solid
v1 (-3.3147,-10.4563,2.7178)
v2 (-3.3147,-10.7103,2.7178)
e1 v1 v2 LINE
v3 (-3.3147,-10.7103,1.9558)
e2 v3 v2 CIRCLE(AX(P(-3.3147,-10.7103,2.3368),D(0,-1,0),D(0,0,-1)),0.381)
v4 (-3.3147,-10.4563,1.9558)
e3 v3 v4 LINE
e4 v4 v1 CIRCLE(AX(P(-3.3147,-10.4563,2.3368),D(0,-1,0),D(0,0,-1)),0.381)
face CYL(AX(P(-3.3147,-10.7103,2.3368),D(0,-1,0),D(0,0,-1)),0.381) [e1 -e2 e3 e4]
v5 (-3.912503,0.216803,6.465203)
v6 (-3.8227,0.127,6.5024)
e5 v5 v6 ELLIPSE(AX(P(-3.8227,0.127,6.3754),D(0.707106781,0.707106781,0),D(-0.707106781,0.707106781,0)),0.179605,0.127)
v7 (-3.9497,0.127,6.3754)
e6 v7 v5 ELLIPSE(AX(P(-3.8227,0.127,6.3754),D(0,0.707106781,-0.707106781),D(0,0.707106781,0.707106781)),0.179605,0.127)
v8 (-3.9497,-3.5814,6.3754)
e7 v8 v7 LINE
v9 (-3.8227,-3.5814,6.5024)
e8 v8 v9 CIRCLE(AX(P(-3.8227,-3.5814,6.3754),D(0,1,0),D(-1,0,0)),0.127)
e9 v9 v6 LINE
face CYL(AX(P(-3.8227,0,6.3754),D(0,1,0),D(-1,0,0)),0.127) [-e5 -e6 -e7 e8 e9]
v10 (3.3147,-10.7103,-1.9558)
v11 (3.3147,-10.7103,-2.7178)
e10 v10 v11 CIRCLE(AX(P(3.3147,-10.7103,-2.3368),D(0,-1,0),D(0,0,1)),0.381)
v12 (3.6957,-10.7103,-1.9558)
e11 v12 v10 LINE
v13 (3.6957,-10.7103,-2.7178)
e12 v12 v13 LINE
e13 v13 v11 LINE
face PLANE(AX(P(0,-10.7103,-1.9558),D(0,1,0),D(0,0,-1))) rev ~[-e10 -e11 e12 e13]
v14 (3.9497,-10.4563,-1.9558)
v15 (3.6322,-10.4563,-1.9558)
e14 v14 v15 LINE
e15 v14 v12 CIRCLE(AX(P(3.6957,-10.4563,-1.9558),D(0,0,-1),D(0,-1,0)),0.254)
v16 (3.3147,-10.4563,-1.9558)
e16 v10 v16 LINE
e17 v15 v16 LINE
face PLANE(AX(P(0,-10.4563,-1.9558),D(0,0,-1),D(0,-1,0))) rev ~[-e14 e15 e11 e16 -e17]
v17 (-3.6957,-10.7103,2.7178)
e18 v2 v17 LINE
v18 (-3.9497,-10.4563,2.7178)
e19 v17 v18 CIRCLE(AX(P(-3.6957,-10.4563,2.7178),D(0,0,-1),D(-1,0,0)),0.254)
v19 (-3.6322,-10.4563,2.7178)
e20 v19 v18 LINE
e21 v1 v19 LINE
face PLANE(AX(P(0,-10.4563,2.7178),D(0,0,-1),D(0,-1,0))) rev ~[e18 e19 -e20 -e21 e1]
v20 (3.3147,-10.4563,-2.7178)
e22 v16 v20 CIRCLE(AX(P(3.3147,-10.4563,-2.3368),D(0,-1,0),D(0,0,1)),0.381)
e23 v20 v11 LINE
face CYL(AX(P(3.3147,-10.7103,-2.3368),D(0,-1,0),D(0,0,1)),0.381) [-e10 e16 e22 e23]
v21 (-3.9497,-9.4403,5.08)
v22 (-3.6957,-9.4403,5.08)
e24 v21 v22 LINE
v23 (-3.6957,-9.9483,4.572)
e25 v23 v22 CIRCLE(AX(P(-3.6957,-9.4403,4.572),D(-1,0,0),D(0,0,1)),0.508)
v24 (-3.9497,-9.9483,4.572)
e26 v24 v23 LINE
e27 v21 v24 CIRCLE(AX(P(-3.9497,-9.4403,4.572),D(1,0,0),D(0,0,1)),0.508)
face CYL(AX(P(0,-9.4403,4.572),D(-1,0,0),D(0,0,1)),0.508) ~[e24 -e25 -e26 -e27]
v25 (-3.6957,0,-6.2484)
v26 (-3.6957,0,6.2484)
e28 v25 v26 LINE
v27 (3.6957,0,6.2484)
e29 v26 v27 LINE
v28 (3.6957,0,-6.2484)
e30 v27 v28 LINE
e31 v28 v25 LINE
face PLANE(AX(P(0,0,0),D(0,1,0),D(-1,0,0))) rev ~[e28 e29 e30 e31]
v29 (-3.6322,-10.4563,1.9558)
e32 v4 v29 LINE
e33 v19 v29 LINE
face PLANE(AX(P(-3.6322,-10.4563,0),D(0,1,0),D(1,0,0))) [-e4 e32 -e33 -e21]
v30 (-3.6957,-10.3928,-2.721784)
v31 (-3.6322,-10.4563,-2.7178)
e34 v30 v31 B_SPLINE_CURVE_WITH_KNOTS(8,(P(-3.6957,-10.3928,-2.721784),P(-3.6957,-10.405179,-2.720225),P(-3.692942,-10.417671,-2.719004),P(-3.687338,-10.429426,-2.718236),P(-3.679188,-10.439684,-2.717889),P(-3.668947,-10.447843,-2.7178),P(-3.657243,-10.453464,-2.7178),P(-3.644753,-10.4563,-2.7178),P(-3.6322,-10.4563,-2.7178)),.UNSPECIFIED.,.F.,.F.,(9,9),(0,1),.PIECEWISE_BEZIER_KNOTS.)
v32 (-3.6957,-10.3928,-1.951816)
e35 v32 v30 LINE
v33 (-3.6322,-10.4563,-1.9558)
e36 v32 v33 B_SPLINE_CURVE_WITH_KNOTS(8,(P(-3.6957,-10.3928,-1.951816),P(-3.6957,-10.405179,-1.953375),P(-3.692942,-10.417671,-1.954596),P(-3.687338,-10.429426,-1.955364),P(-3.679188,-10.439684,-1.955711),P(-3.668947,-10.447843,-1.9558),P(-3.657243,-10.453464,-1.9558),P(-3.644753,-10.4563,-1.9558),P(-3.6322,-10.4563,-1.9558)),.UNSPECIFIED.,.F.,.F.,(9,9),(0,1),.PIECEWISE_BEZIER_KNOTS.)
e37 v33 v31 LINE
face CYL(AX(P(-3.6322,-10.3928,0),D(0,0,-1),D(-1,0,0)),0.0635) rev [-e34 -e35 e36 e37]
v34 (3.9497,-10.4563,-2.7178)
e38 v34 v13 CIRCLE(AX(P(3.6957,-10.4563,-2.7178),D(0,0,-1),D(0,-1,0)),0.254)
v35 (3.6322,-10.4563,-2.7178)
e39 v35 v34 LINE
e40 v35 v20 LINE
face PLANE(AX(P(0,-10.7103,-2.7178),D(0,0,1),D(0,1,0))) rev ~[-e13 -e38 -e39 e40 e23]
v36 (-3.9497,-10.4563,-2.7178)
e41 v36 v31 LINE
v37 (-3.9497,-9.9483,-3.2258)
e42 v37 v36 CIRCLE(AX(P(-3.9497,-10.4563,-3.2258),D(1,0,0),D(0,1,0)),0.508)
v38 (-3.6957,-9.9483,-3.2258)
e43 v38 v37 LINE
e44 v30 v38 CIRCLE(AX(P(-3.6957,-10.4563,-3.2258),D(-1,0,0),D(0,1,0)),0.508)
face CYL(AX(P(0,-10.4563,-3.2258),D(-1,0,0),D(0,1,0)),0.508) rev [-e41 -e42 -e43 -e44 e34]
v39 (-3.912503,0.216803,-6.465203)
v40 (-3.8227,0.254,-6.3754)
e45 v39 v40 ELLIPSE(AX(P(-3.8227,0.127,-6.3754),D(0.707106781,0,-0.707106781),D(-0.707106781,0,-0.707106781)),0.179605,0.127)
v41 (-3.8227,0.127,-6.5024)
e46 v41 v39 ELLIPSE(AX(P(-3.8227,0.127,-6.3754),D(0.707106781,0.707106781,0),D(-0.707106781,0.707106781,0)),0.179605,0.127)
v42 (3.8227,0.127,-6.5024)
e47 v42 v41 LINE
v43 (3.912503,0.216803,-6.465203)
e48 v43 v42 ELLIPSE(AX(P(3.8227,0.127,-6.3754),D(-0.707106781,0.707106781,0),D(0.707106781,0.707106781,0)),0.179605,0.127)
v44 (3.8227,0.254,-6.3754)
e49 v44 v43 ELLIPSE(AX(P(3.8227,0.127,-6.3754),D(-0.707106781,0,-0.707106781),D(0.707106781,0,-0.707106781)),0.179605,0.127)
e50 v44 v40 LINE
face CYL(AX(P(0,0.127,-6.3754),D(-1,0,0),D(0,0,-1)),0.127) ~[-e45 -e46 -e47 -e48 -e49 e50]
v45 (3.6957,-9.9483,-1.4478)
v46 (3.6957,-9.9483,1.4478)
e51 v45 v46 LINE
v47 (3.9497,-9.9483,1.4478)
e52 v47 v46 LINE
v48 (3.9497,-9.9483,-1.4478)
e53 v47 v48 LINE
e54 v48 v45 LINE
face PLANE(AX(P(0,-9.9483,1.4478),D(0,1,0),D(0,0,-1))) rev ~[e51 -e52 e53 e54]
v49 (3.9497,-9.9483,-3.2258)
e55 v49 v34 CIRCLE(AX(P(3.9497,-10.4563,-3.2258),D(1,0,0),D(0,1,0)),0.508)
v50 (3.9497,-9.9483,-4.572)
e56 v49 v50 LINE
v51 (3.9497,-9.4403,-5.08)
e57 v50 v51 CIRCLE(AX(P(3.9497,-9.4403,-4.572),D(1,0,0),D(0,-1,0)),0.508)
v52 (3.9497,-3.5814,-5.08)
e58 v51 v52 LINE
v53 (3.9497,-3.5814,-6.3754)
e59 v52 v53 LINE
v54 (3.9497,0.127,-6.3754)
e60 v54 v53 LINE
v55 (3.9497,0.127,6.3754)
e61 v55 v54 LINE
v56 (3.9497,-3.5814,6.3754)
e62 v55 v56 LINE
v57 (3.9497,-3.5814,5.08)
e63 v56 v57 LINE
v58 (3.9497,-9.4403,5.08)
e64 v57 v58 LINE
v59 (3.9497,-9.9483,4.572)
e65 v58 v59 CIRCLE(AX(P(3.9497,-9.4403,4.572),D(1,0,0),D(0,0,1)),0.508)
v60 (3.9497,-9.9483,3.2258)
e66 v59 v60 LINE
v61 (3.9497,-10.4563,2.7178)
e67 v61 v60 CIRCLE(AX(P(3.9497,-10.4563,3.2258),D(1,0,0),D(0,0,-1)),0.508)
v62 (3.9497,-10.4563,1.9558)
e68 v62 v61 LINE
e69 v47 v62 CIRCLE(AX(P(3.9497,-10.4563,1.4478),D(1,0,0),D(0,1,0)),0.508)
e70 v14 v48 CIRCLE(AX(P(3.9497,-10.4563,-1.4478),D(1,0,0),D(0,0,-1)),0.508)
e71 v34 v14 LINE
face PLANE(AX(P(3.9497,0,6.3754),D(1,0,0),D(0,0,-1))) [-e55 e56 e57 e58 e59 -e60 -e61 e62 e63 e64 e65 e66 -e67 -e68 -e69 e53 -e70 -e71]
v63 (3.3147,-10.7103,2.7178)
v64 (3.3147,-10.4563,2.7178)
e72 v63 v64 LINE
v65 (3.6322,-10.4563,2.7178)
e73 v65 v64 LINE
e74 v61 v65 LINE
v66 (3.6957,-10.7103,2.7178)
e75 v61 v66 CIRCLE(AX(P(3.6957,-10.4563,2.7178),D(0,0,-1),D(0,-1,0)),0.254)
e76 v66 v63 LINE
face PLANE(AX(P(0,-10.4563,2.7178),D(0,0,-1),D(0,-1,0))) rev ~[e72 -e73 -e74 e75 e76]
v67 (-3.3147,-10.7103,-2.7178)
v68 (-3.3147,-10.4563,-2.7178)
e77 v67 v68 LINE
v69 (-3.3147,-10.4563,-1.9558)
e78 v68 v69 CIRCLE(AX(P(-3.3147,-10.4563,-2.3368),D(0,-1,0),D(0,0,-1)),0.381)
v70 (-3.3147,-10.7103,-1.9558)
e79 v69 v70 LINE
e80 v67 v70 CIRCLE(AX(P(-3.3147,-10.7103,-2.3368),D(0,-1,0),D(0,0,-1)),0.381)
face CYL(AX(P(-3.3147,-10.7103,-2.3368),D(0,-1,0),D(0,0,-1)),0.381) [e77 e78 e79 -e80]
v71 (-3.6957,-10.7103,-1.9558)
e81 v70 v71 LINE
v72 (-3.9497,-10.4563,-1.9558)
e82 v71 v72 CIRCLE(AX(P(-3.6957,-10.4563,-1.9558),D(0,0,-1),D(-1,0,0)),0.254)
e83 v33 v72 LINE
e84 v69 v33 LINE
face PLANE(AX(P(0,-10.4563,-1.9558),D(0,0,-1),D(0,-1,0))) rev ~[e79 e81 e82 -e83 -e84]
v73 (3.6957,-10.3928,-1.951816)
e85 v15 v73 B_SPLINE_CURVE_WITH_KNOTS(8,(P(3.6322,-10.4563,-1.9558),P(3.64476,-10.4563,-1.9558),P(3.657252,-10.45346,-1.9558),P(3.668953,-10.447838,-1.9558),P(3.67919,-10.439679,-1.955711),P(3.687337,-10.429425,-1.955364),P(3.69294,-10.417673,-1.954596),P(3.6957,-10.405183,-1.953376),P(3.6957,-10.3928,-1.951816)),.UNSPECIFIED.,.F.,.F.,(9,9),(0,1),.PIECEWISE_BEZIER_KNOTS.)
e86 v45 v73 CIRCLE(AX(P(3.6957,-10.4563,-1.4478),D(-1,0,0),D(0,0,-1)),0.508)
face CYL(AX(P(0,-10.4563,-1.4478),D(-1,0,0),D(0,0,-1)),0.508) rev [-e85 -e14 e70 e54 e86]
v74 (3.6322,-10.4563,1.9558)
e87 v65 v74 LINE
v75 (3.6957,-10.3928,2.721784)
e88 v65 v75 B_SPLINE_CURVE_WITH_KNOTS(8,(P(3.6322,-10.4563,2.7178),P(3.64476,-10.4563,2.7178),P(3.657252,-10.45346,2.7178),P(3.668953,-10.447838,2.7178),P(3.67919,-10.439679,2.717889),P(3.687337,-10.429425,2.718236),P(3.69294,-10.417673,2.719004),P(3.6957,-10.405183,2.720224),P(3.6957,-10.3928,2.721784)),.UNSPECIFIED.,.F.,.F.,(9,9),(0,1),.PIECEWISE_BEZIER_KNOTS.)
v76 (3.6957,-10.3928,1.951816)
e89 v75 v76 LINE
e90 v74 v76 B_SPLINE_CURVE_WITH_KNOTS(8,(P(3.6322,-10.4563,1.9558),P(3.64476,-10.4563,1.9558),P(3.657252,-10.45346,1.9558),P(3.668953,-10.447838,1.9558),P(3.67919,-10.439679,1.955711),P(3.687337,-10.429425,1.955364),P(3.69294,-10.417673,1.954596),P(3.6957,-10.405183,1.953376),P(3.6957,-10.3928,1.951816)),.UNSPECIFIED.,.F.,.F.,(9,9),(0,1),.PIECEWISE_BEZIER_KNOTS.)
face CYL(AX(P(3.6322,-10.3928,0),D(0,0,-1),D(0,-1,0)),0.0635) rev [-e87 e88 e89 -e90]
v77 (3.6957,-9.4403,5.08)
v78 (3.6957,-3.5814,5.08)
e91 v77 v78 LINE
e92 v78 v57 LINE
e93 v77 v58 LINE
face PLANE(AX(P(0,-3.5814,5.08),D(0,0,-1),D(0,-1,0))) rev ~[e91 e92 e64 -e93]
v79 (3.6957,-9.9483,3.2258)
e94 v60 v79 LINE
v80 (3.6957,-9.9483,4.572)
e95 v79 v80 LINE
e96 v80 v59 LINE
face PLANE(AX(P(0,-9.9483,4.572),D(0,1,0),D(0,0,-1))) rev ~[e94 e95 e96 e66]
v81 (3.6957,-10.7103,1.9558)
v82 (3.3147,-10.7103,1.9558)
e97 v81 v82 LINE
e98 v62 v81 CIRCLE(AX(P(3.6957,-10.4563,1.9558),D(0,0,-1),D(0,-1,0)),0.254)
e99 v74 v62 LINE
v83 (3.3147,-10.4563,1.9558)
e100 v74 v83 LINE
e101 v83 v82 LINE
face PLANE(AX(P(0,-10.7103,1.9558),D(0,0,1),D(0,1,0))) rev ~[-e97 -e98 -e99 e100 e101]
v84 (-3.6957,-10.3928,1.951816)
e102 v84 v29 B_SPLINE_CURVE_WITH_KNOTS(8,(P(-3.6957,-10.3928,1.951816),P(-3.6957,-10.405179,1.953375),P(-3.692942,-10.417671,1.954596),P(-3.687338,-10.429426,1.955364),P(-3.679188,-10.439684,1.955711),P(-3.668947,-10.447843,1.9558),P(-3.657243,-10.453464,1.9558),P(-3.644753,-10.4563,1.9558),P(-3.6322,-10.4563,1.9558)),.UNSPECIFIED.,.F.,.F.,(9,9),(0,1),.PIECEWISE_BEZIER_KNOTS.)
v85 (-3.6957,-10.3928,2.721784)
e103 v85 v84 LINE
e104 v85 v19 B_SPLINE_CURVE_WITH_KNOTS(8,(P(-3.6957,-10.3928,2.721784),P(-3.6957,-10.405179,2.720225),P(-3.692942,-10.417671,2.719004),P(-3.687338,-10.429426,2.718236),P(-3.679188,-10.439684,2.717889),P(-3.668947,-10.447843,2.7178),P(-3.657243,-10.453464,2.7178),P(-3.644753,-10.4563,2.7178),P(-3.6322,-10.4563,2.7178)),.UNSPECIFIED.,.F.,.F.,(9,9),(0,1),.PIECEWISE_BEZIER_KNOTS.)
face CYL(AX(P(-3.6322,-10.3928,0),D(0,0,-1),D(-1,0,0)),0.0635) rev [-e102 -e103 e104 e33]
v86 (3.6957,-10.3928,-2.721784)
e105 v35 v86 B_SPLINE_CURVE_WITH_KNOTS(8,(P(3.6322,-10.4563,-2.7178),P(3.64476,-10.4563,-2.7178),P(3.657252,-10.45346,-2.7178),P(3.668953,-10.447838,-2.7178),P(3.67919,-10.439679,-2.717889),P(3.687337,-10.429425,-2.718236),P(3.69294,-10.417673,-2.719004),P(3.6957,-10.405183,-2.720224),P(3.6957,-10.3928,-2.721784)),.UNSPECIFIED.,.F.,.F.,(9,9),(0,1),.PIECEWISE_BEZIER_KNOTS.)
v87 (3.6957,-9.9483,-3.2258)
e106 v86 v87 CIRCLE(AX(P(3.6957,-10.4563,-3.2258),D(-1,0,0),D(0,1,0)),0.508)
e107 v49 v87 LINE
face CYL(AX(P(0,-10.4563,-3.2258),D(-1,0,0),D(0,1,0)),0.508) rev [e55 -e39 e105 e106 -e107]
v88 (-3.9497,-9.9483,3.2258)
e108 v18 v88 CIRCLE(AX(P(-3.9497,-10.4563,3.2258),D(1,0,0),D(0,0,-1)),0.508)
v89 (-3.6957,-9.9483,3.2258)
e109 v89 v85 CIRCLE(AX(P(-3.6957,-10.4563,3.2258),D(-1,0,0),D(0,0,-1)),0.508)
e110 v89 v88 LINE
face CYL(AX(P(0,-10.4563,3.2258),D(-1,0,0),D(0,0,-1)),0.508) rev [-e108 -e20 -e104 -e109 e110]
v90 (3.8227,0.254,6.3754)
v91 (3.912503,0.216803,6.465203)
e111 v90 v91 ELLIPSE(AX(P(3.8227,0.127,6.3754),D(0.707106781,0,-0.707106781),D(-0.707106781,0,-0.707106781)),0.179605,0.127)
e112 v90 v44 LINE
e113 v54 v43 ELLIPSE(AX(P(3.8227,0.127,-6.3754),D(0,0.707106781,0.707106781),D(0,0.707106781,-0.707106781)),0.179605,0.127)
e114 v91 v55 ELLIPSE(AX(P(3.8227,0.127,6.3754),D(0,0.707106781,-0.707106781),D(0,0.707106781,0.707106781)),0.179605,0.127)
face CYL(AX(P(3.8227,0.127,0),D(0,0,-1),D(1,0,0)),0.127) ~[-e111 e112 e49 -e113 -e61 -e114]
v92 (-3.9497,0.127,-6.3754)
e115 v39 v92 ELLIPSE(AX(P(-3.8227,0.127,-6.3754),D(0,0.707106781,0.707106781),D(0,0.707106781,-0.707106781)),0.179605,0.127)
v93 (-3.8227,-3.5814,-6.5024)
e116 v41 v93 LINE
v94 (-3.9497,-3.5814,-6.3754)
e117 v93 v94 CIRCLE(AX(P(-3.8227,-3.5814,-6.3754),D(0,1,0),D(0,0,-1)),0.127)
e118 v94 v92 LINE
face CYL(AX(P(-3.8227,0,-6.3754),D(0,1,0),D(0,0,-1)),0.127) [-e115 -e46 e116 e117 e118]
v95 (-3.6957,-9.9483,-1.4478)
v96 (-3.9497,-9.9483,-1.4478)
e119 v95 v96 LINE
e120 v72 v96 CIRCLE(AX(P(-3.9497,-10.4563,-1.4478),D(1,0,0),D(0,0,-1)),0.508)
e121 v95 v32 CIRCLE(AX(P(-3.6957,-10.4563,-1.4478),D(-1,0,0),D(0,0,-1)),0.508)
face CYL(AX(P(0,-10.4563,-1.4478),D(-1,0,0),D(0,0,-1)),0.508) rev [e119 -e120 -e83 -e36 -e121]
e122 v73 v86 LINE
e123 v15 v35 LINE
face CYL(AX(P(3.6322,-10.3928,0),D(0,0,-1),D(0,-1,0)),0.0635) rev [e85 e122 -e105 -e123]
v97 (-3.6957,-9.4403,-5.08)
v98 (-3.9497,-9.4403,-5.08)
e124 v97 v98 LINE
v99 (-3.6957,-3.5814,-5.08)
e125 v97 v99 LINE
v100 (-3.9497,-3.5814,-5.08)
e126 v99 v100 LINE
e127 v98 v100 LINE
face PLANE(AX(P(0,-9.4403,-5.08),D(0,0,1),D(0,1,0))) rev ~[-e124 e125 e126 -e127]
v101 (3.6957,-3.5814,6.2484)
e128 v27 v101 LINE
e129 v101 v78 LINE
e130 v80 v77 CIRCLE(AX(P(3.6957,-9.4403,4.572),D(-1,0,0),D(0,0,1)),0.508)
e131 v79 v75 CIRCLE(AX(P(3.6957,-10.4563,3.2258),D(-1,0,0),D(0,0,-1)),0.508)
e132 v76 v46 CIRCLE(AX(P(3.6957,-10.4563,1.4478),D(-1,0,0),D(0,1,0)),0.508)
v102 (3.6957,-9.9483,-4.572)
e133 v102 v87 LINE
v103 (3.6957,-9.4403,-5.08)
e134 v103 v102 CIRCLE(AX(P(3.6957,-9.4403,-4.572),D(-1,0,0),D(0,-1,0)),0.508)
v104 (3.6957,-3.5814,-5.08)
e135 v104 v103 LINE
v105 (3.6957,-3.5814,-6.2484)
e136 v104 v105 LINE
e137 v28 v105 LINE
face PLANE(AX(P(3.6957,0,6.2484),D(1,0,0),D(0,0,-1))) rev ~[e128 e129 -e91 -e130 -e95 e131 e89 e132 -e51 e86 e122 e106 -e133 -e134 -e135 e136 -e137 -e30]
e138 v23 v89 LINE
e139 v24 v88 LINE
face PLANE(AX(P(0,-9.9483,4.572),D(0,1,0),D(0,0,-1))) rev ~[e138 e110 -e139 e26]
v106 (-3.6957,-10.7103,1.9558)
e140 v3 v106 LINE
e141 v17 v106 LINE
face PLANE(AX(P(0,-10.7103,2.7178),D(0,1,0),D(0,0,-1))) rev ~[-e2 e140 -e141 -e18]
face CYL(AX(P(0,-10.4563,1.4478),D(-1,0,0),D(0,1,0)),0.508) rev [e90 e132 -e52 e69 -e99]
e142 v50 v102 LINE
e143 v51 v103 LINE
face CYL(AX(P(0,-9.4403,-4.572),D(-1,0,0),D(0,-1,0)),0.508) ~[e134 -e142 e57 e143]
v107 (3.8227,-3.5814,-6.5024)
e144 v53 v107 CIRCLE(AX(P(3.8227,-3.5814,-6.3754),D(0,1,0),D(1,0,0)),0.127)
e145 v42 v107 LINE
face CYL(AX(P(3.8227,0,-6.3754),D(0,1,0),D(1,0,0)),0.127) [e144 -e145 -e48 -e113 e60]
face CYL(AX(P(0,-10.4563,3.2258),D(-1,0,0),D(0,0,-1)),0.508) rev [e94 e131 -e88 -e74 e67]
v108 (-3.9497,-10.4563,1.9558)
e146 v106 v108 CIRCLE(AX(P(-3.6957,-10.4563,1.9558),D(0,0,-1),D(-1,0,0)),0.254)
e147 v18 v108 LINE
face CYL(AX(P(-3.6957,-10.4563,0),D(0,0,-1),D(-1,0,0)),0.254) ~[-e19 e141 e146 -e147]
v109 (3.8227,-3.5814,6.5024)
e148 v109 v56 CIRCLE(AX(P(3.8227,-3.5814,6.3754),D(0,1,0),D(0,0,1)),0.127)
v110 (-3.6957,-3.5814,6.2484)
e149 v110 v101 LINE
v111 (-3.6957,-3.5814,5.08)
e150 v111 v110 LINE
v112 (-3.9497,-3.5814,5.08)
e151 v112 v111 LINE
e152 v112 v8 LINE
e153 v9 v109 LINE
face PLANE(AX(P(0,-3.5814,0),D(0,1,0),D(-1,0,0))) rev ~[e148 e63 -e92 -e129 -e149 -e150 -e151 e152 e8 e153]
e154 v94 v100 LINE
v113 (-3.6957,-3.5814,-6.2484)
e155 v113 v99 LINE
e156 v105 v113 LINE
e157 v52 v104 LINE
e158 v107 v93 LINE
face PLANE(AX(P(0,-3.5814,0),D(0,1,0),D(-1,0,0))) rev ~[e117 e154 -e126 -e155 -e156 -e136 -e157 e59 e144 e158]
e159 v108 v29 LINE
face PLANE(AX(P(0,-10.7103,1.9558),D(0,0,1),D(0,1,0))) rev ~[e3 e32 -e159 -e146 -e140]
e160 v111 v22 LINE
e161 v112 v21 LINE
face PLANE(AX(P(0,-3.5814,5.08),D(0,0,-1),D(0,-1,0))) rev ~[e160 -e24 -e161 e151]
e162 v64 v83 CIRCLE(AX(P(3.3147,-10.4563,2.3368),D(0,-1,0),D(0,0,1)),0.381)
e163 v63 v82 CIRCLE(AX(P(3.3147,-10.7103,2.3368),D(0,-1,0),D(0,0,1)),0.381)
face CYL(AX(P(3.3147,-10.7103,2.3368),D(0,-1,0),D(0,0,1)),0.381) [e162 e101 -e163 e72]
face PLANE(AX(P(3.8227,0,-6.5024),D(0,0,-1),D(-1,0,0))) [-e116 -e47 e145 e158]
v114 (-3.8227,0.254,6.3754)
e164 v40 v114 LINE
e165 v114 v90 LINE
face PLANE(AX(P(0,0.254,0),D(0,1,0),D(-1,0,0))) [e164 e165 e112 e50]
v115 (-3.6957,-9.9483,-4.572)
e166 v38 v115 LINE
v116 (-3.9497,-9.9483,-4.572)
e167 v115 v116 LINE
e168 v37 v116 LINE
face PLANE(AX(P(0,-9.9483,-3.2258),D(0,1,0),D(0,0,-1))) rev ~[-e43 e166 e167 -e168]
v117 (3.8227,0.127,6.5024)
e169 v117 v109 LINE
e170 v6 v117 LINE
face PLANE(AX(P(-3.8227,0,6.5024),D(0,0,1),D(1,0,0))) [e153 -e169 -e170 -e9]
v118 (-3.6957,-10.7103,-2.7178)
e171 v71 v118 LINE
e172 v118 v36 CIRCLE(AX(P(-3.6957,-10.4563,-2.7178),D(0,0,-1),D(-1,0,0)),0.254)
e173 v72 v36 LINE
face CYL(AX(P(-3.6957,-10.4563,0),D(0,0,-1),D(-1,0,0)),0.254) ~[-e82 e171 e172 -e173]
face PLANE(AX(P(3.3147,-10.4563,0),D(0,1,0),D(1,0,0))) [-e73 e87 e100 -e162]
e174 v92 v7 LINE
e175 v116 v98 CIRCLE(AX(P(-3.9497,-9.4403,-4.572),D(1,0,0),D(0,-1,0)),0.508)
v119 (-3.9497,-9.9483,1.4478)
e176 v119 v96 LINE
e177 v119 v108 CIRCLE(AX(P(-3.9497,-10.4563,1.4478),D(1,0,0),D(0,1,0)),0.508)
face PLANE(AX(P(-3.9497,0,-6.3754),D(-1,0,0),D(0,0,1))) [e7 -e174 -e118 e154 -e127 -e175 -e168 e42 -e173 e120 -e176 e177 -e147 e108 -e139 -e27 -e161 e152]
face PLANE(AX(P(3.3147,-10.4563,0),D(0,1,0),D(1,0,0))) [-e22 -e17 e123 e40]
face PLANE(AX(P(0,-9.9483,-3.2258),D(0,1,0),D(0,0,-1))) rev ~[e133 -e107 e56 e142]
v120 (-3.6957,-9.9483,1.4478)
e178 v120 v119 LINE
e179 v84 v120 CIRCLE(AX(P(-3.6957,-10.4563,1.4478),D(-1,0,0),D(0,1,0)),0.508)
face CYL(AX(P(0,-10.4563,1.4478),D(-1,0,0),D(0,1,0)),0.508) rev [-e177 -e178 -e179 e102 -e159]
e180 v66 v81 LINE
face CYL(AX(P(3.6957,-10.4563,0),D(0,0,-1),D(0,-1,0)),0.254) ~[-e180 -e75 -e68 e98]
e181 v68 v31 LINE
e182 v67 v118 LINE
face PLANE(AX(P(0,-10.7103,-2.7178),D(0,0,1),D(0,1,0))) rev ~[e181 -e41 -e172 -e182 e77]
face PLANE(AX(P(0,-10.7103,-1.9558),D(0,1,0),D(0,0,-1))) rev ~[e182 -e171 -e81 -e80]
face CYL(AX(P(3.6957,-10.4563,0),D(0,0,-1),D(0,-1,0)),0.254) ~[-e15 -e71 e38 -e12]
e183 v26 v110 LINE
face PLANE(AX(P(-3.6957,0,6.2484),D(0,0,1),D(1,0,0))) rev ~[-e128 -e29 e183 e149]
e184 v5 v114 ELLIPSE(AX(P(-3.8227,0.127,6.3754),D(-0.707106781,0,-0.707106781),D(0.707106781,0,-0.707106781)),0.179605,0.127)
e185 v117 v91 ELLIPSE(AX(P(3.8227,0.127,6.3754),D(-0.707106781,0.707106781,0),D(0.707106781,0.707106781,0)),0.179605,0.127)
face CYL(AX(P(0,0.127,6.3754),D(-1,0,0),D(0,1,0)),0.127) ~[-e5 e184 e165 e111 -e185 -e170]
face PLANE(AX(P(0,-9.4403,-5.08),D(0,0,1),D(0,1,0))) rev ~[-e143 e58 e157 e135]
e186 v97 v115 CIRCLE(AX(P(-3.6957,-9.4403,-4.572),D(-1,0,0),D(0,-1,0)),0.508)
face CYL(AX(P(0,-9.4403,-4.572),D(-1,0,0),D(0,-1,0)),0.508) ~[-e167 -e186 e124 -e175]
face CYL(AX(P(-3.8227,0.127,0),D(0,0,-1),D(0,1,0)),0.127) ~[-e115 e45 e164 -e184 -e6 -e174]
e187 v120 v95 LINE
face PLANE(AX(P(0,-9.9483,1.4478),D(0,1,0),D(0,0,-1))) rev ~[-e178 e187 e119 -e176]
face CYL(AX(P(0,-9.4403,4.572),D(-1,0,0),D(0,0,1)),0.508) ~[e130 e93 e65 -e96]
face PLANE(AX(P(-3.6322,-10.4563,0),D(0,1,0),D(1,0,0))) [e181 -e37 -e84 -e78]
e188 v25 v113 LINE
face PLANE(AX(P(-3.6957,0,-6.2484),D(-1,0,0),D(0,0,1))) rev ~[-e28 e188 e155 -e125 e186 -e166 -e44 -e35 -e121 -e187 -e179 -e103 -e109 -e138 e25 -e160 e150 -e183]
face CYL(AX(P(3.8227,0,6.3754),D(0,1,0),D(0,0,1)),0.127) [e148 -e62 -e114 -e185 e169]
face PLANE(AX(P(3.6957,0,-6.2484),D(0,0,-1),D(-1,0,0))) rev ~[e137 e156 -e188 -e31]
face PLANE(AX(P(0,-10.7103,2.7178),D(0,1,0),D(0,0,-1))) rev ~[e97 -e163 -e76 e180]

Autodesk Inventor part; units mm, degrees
sketch "Sketch_1" plane through (0, 0, 0) normal (0, 1, 0) x (-1, 0, 0)
  line L0 (3.9497, -6.3754) -> (3.9497, 6.3754)
  arc A0 (3.9497, 6.3754) -> (3.8227, 6.5024) centre (3.8227, 6.3754) ccw
  line L1 (3.8227, 6.5024) -> (-3.8227, 6.5024)
  arc A1 (-3.8227, 6.5024) -> (-3.9497, 6.3754) centre (-3.8227, 6.3754) ccw
  line L2 (-3.9497, 6.3754) -> (-3.9497, -6.3754)
  arc A2 (-3.9497, -6.3754) -> (-3.8227, -6.5024) centre (-3.8227, -6.3754) ccw
  line L3 (-3.8227, -6.5024) -> (3.8227, -6.5024)
  arc A3 (3.8227, -6.5024) -> (3.9497, -6.3754) centre (3.8227, -6.3754) ccw
  line L4 (3.6957, -6.2484) -> (3.6957, 6.2484)
  line L5 (3.6957, 6.2484) -> (-3.6957, 6.2484)
  line L6 (-3.6957, 6.2484) -> (-3.6957, -6.2484)
  line L7 (-3.6957, -6.2484) -> (3.6957, -6.2484)
extrude "Extrusion1" add sketch "Sketch_1" against normal blind 3.5814
sketch "Sketch_2" plane through (0, 0, 0) normal (0, 1, 0) x (-1, 0, 0)
  line L0 (3.9497, -6.3754) -> (3.9497, 6.3754)
  arc A0 (3.9497, 6.3754) -> (3.8227, 6.5024) centre (3.8227, 6.3754) ccw
  line L1 (3.8227, 6.5024) -> (-3.8227, 6.5024)
  arc A1 (-3.8227, 6.5024) -> (-3.9497, 6.3754) centre (-3.8227, 6.3754) ccw
  line L2 (-3.9497, 6.3754) -> (-3.9497, -6.3754)
  arc A2 (-3.9497, -6.3754) -> (-3.8227, -6.5024) centre (-3.8227, -6.3754) ccw
  line L3 (-3.8227, -6.5024) -> (3.8227, -6.5024)
  arc A3 (3.8227, -6.5024) -> (3.9497, -6.3754) centre (3.8227, -6.3754) ccw
extrude "Extrusion2" add sketch "Sketch_2" along normal blind 0.254
sketch "Sketch_7" plane through (0, 0, 0) normal (0, 0, 1) x (1, 0, 0)
  line L0 (-3.9497, 0.4023) -> (-3.9497, 0.127)
  arc A0 (-3.8227, 0.254) -> (-3.9497, 0.127) centre (-3.8227, 0.127) ccw
  line L1 (-3.8227, 0.254) -> (3.8227, 0.254)
  arc A1 (3.9497, 0.127) -> (3.8227, 0.254) centre (3.8227, 0.127) ccw
  line L2 (3.9497, 0.127) -> (3.9497, 0.4023)
  line L3 (3.9497, 0.4023) -> (-3.9497, 0.4023)
extrude "Extrusion3" cut sketch "Sketch_7" along normal mid plane 15.24
sketch "Sketch_8" plane through (0, 0, 0) normal (1, 0, 0) x (0, 1, 0)
  line L0 (0.4023, 6.5024) -> (0.127, 6.5024)
  arc A0 (0.254, 6.3754) -> (0.127, 6.5024) centre (0.127, 6.3754) ccw
  line L1 (0.254, 6.3754) -> (0.254, -6.3754)
  arc A1 (0.127, -6.5024) -> (0.254, -6.3754) centre (0.127, -6.3754) ccw
  line L2 (0.127, -6.5024) -> (0.4023, -6.5024)
  line L3 (0.4023, -6.5024) -> (0.4023, 6.5024)
extrude "Extrusion4" cut sketch "Sketch_8" along normal mid plane 15.24
sketch "Sketch_13" plane through (0, 0, 0) normal (1, 0, 0) x (0, 1, 0)
  line L0 (-3.5814, 5.08) -> (-9.4403, 5.08)
  arc A0 (-9.4403, 5.08) -> (-9.9483, 4.572) centre (-9.4403, 4.572) ccw
  line L1 (-9.9483, 4.572) -> (-9.9483, 3.2258)
  arc A1 (-10.4563, 2.7178) -> (-9.9483, 3.2258) centre (-10.4563, 3.2258) ccw
  line L2 (-10.4563, 2.7178) -> (-10.7103, 2.7178)
  line L3 (-10.7103, 2.7178) -> (-10.7103, 1.9558)
  line L4 (-10.7103, 1.9558) -> (-10.4563, 1.9558)
  arc A2 (-9.9483, 1.4478) -> (-10.4563, 1.9558) centre (-10.4563, 1.4478) ccw
  line L5 (-9.9483, 1.4478) -> (-9.9483, -1.4478)
  arc A3 (-10.4563, -1.9558) -> (-9.9483, -1.4478) centre (-10.4563, -1.4478) ccw
  line L6 (-10.4563, -1.9558) -> (-10.7103, -1.9558)
  line L7 (-10.7103, -1.9558) -> (-10.7103, -2.7178)
  line L8 (-10.7103, -2.7178) -> (-10.4563, -2.7178)
  arc A4 (-9.9483, -3.2258) -> (-10.4563, -2.7178) centre (-10.4563, -3.2258) ccw
  line L9 (-9.9483, -3.2258) -> (-9.9483, -4.572)
  arc A5 (-9.9483, -4.572) -> (-9.4403, -5.08) centre (-9.4403, -4.572) ccw
  line L10 (-9.4403, -5.08) -> (-3.5814, -5.08)
  line L11 (-3.5814, -5.08) -> (-3.5814, 5.08)
extrude "Extrusion5" add sketch "Sketch_13" along normal mid plane 7.8994
sketch "Sketch_14" plane through (0, 0, 0) normal (0, 0, 1) x (1, 0, 0)
  line L0 (-3.9497, -11.1282) -> (3.9497, -11.1282)
  line L1 (3.9497, -11.1282) -> (3.9497, -10.4563)
  arc A0 (3.6957, -10.7103) -> (3.9497, -10.4563) centre (3.6957, -10.4563) ccw
  line L2 (3.6957, -10.7103) -> (3.3147, -10.7103)
  line L3 (3.3147, -10.7103) -> (3.3147, -10.4563)
  line L4 (3.3147, -10.4563) -> (3.6322, -10.4563)
  arc A1 (3.6322, -10.4563) -> (3.6957, -10.3928) centre (3.6322, -10.3928) ccw
  line L5 (3.6957, -10.3928) -> (3.6957, -3.5814)
  line L6 (3.6957, -3.5814) -> (-3.6957, -3.5814)
  line L7 (-3.6957, -3.5814) -> (-3.6957, -10.3928)
  arc A2 (-3.6957, -10.3928) -> (-3.6322, -10.4563) centre (-3.6322, -10.3928) ccw
  line L8 (-3.6322, -10.4563) -> (-3.3147, -10.4563)
  line L9 (-3.3147, -10.4563) -> (-3.3147, -10.7103)
  line L10 (-3.3147, -10.7103) -> (-3.6957, -10.7103)
  arc A3 (-3.9497, -10.4563) -> (-3.6957, -10.7103) centre (-3.6957, -10.4563) ccw
  line L11 (-3.9497, -10.4563) -> (-3.9497, -11.1282)
extrude "Extrusion6" cut sketch "Sketch_14" along normal mid plane 10.287
sketch "Sketch_29" plane through (-3.6957, -10.7103, 1.9558) normal (0, -1, 0) x (1, 0, 0)
  line L0 (0, 0.762) -> (0, 0)
  line L1 (0, 0) -> (0.381, 0)
  arc A0 (0.381, 0) -> (0.381, 0.762) centre (0.381, 0.381) ccw
  line L2 (0.381, 0.762) -> (0, 0.762)
extrude "Extrusion7" add sketch "Sketch_29" against normal blind 0.254
sketch "Sketch_30" plane through (-3.6957, -10.7103, 1.9558) normal (0, -1, 0) x (1, 0, 0)
  arc A0 (7.0104, 0.762) -> (7.0104, 0) centre (7.0104, 0.381) ccw
  line L0 (7.0104, 0) -> (7.3914, 0)
  line L1 (7.3914, 0) -> (7.3914, 0.762)
  line L2 (7.3914, 0.762) -> (7.0104, 0.762)
extrude "Extrusion8" add sketch "Sketch_30" against normal blind 0.254
sketch "Sketch_31" plane through (-3.6957, -10.7103, -2.7178) normal (0, -1, 0) x (1, 0, 0)
  line L0 (0, 0.762) -> (0, 0)
  line L1 (0, 0) -> (0.381, 0)
  arc A0 (0.381, 0) -> (0.381, 0.762) centre (0.381, 0.381) ccw
  line L2 (0.381, 0.762) -> (0, 0.762)
extrude "Extrusion9" add sketch "Sketch_31" against normal blind 0.254
sketch "Sketch_32" plane through (-3.6957, -10.7103, -2.7178) normal (0, -1, 0) x (1, 0, 0)
  arc A0 (7.0104, 0.762) -> (7.0104, 0) centre (7.0104, 0.381) ccw
  line L0 (7.0104, 0) -> (7.3914, 0)
  line L1 (7.3914, 0) -> (7.3914, 0.762)
  line L2 (7.3914, 0.762) -> (7.0104, 0.762)
extrude "Extrusion10" add sketch "Sketch_32" against normal blind 0.254
ref_plane "to_body_XY" through (0, 0, 0) normal (0, 1, 0) x (1, 0, 0)
ref_plane "to_body_YZ" through (0, 0, 0) normal (1, 0, 0) x (0, 0, -1)
ref_plane "to_body_ZX" through (0, 0, 0) normal (0, 0, -1) x (0, 1, 0)
ref_plane "to_bushings_XY" through (0, 0.254, 0) normal (0, -1, 0) x (1, 0, 0)
ref_plane "to_bushings_YZ" through (0, 0.254, 0) normal (1, 0, 0) x (0, 0, 1)
ref_plane "to_bushings_ZX" through (0, 0.254, 0) normal (0, 0, 1) x (0, -1, 0)
properties part number "MB2011c"
